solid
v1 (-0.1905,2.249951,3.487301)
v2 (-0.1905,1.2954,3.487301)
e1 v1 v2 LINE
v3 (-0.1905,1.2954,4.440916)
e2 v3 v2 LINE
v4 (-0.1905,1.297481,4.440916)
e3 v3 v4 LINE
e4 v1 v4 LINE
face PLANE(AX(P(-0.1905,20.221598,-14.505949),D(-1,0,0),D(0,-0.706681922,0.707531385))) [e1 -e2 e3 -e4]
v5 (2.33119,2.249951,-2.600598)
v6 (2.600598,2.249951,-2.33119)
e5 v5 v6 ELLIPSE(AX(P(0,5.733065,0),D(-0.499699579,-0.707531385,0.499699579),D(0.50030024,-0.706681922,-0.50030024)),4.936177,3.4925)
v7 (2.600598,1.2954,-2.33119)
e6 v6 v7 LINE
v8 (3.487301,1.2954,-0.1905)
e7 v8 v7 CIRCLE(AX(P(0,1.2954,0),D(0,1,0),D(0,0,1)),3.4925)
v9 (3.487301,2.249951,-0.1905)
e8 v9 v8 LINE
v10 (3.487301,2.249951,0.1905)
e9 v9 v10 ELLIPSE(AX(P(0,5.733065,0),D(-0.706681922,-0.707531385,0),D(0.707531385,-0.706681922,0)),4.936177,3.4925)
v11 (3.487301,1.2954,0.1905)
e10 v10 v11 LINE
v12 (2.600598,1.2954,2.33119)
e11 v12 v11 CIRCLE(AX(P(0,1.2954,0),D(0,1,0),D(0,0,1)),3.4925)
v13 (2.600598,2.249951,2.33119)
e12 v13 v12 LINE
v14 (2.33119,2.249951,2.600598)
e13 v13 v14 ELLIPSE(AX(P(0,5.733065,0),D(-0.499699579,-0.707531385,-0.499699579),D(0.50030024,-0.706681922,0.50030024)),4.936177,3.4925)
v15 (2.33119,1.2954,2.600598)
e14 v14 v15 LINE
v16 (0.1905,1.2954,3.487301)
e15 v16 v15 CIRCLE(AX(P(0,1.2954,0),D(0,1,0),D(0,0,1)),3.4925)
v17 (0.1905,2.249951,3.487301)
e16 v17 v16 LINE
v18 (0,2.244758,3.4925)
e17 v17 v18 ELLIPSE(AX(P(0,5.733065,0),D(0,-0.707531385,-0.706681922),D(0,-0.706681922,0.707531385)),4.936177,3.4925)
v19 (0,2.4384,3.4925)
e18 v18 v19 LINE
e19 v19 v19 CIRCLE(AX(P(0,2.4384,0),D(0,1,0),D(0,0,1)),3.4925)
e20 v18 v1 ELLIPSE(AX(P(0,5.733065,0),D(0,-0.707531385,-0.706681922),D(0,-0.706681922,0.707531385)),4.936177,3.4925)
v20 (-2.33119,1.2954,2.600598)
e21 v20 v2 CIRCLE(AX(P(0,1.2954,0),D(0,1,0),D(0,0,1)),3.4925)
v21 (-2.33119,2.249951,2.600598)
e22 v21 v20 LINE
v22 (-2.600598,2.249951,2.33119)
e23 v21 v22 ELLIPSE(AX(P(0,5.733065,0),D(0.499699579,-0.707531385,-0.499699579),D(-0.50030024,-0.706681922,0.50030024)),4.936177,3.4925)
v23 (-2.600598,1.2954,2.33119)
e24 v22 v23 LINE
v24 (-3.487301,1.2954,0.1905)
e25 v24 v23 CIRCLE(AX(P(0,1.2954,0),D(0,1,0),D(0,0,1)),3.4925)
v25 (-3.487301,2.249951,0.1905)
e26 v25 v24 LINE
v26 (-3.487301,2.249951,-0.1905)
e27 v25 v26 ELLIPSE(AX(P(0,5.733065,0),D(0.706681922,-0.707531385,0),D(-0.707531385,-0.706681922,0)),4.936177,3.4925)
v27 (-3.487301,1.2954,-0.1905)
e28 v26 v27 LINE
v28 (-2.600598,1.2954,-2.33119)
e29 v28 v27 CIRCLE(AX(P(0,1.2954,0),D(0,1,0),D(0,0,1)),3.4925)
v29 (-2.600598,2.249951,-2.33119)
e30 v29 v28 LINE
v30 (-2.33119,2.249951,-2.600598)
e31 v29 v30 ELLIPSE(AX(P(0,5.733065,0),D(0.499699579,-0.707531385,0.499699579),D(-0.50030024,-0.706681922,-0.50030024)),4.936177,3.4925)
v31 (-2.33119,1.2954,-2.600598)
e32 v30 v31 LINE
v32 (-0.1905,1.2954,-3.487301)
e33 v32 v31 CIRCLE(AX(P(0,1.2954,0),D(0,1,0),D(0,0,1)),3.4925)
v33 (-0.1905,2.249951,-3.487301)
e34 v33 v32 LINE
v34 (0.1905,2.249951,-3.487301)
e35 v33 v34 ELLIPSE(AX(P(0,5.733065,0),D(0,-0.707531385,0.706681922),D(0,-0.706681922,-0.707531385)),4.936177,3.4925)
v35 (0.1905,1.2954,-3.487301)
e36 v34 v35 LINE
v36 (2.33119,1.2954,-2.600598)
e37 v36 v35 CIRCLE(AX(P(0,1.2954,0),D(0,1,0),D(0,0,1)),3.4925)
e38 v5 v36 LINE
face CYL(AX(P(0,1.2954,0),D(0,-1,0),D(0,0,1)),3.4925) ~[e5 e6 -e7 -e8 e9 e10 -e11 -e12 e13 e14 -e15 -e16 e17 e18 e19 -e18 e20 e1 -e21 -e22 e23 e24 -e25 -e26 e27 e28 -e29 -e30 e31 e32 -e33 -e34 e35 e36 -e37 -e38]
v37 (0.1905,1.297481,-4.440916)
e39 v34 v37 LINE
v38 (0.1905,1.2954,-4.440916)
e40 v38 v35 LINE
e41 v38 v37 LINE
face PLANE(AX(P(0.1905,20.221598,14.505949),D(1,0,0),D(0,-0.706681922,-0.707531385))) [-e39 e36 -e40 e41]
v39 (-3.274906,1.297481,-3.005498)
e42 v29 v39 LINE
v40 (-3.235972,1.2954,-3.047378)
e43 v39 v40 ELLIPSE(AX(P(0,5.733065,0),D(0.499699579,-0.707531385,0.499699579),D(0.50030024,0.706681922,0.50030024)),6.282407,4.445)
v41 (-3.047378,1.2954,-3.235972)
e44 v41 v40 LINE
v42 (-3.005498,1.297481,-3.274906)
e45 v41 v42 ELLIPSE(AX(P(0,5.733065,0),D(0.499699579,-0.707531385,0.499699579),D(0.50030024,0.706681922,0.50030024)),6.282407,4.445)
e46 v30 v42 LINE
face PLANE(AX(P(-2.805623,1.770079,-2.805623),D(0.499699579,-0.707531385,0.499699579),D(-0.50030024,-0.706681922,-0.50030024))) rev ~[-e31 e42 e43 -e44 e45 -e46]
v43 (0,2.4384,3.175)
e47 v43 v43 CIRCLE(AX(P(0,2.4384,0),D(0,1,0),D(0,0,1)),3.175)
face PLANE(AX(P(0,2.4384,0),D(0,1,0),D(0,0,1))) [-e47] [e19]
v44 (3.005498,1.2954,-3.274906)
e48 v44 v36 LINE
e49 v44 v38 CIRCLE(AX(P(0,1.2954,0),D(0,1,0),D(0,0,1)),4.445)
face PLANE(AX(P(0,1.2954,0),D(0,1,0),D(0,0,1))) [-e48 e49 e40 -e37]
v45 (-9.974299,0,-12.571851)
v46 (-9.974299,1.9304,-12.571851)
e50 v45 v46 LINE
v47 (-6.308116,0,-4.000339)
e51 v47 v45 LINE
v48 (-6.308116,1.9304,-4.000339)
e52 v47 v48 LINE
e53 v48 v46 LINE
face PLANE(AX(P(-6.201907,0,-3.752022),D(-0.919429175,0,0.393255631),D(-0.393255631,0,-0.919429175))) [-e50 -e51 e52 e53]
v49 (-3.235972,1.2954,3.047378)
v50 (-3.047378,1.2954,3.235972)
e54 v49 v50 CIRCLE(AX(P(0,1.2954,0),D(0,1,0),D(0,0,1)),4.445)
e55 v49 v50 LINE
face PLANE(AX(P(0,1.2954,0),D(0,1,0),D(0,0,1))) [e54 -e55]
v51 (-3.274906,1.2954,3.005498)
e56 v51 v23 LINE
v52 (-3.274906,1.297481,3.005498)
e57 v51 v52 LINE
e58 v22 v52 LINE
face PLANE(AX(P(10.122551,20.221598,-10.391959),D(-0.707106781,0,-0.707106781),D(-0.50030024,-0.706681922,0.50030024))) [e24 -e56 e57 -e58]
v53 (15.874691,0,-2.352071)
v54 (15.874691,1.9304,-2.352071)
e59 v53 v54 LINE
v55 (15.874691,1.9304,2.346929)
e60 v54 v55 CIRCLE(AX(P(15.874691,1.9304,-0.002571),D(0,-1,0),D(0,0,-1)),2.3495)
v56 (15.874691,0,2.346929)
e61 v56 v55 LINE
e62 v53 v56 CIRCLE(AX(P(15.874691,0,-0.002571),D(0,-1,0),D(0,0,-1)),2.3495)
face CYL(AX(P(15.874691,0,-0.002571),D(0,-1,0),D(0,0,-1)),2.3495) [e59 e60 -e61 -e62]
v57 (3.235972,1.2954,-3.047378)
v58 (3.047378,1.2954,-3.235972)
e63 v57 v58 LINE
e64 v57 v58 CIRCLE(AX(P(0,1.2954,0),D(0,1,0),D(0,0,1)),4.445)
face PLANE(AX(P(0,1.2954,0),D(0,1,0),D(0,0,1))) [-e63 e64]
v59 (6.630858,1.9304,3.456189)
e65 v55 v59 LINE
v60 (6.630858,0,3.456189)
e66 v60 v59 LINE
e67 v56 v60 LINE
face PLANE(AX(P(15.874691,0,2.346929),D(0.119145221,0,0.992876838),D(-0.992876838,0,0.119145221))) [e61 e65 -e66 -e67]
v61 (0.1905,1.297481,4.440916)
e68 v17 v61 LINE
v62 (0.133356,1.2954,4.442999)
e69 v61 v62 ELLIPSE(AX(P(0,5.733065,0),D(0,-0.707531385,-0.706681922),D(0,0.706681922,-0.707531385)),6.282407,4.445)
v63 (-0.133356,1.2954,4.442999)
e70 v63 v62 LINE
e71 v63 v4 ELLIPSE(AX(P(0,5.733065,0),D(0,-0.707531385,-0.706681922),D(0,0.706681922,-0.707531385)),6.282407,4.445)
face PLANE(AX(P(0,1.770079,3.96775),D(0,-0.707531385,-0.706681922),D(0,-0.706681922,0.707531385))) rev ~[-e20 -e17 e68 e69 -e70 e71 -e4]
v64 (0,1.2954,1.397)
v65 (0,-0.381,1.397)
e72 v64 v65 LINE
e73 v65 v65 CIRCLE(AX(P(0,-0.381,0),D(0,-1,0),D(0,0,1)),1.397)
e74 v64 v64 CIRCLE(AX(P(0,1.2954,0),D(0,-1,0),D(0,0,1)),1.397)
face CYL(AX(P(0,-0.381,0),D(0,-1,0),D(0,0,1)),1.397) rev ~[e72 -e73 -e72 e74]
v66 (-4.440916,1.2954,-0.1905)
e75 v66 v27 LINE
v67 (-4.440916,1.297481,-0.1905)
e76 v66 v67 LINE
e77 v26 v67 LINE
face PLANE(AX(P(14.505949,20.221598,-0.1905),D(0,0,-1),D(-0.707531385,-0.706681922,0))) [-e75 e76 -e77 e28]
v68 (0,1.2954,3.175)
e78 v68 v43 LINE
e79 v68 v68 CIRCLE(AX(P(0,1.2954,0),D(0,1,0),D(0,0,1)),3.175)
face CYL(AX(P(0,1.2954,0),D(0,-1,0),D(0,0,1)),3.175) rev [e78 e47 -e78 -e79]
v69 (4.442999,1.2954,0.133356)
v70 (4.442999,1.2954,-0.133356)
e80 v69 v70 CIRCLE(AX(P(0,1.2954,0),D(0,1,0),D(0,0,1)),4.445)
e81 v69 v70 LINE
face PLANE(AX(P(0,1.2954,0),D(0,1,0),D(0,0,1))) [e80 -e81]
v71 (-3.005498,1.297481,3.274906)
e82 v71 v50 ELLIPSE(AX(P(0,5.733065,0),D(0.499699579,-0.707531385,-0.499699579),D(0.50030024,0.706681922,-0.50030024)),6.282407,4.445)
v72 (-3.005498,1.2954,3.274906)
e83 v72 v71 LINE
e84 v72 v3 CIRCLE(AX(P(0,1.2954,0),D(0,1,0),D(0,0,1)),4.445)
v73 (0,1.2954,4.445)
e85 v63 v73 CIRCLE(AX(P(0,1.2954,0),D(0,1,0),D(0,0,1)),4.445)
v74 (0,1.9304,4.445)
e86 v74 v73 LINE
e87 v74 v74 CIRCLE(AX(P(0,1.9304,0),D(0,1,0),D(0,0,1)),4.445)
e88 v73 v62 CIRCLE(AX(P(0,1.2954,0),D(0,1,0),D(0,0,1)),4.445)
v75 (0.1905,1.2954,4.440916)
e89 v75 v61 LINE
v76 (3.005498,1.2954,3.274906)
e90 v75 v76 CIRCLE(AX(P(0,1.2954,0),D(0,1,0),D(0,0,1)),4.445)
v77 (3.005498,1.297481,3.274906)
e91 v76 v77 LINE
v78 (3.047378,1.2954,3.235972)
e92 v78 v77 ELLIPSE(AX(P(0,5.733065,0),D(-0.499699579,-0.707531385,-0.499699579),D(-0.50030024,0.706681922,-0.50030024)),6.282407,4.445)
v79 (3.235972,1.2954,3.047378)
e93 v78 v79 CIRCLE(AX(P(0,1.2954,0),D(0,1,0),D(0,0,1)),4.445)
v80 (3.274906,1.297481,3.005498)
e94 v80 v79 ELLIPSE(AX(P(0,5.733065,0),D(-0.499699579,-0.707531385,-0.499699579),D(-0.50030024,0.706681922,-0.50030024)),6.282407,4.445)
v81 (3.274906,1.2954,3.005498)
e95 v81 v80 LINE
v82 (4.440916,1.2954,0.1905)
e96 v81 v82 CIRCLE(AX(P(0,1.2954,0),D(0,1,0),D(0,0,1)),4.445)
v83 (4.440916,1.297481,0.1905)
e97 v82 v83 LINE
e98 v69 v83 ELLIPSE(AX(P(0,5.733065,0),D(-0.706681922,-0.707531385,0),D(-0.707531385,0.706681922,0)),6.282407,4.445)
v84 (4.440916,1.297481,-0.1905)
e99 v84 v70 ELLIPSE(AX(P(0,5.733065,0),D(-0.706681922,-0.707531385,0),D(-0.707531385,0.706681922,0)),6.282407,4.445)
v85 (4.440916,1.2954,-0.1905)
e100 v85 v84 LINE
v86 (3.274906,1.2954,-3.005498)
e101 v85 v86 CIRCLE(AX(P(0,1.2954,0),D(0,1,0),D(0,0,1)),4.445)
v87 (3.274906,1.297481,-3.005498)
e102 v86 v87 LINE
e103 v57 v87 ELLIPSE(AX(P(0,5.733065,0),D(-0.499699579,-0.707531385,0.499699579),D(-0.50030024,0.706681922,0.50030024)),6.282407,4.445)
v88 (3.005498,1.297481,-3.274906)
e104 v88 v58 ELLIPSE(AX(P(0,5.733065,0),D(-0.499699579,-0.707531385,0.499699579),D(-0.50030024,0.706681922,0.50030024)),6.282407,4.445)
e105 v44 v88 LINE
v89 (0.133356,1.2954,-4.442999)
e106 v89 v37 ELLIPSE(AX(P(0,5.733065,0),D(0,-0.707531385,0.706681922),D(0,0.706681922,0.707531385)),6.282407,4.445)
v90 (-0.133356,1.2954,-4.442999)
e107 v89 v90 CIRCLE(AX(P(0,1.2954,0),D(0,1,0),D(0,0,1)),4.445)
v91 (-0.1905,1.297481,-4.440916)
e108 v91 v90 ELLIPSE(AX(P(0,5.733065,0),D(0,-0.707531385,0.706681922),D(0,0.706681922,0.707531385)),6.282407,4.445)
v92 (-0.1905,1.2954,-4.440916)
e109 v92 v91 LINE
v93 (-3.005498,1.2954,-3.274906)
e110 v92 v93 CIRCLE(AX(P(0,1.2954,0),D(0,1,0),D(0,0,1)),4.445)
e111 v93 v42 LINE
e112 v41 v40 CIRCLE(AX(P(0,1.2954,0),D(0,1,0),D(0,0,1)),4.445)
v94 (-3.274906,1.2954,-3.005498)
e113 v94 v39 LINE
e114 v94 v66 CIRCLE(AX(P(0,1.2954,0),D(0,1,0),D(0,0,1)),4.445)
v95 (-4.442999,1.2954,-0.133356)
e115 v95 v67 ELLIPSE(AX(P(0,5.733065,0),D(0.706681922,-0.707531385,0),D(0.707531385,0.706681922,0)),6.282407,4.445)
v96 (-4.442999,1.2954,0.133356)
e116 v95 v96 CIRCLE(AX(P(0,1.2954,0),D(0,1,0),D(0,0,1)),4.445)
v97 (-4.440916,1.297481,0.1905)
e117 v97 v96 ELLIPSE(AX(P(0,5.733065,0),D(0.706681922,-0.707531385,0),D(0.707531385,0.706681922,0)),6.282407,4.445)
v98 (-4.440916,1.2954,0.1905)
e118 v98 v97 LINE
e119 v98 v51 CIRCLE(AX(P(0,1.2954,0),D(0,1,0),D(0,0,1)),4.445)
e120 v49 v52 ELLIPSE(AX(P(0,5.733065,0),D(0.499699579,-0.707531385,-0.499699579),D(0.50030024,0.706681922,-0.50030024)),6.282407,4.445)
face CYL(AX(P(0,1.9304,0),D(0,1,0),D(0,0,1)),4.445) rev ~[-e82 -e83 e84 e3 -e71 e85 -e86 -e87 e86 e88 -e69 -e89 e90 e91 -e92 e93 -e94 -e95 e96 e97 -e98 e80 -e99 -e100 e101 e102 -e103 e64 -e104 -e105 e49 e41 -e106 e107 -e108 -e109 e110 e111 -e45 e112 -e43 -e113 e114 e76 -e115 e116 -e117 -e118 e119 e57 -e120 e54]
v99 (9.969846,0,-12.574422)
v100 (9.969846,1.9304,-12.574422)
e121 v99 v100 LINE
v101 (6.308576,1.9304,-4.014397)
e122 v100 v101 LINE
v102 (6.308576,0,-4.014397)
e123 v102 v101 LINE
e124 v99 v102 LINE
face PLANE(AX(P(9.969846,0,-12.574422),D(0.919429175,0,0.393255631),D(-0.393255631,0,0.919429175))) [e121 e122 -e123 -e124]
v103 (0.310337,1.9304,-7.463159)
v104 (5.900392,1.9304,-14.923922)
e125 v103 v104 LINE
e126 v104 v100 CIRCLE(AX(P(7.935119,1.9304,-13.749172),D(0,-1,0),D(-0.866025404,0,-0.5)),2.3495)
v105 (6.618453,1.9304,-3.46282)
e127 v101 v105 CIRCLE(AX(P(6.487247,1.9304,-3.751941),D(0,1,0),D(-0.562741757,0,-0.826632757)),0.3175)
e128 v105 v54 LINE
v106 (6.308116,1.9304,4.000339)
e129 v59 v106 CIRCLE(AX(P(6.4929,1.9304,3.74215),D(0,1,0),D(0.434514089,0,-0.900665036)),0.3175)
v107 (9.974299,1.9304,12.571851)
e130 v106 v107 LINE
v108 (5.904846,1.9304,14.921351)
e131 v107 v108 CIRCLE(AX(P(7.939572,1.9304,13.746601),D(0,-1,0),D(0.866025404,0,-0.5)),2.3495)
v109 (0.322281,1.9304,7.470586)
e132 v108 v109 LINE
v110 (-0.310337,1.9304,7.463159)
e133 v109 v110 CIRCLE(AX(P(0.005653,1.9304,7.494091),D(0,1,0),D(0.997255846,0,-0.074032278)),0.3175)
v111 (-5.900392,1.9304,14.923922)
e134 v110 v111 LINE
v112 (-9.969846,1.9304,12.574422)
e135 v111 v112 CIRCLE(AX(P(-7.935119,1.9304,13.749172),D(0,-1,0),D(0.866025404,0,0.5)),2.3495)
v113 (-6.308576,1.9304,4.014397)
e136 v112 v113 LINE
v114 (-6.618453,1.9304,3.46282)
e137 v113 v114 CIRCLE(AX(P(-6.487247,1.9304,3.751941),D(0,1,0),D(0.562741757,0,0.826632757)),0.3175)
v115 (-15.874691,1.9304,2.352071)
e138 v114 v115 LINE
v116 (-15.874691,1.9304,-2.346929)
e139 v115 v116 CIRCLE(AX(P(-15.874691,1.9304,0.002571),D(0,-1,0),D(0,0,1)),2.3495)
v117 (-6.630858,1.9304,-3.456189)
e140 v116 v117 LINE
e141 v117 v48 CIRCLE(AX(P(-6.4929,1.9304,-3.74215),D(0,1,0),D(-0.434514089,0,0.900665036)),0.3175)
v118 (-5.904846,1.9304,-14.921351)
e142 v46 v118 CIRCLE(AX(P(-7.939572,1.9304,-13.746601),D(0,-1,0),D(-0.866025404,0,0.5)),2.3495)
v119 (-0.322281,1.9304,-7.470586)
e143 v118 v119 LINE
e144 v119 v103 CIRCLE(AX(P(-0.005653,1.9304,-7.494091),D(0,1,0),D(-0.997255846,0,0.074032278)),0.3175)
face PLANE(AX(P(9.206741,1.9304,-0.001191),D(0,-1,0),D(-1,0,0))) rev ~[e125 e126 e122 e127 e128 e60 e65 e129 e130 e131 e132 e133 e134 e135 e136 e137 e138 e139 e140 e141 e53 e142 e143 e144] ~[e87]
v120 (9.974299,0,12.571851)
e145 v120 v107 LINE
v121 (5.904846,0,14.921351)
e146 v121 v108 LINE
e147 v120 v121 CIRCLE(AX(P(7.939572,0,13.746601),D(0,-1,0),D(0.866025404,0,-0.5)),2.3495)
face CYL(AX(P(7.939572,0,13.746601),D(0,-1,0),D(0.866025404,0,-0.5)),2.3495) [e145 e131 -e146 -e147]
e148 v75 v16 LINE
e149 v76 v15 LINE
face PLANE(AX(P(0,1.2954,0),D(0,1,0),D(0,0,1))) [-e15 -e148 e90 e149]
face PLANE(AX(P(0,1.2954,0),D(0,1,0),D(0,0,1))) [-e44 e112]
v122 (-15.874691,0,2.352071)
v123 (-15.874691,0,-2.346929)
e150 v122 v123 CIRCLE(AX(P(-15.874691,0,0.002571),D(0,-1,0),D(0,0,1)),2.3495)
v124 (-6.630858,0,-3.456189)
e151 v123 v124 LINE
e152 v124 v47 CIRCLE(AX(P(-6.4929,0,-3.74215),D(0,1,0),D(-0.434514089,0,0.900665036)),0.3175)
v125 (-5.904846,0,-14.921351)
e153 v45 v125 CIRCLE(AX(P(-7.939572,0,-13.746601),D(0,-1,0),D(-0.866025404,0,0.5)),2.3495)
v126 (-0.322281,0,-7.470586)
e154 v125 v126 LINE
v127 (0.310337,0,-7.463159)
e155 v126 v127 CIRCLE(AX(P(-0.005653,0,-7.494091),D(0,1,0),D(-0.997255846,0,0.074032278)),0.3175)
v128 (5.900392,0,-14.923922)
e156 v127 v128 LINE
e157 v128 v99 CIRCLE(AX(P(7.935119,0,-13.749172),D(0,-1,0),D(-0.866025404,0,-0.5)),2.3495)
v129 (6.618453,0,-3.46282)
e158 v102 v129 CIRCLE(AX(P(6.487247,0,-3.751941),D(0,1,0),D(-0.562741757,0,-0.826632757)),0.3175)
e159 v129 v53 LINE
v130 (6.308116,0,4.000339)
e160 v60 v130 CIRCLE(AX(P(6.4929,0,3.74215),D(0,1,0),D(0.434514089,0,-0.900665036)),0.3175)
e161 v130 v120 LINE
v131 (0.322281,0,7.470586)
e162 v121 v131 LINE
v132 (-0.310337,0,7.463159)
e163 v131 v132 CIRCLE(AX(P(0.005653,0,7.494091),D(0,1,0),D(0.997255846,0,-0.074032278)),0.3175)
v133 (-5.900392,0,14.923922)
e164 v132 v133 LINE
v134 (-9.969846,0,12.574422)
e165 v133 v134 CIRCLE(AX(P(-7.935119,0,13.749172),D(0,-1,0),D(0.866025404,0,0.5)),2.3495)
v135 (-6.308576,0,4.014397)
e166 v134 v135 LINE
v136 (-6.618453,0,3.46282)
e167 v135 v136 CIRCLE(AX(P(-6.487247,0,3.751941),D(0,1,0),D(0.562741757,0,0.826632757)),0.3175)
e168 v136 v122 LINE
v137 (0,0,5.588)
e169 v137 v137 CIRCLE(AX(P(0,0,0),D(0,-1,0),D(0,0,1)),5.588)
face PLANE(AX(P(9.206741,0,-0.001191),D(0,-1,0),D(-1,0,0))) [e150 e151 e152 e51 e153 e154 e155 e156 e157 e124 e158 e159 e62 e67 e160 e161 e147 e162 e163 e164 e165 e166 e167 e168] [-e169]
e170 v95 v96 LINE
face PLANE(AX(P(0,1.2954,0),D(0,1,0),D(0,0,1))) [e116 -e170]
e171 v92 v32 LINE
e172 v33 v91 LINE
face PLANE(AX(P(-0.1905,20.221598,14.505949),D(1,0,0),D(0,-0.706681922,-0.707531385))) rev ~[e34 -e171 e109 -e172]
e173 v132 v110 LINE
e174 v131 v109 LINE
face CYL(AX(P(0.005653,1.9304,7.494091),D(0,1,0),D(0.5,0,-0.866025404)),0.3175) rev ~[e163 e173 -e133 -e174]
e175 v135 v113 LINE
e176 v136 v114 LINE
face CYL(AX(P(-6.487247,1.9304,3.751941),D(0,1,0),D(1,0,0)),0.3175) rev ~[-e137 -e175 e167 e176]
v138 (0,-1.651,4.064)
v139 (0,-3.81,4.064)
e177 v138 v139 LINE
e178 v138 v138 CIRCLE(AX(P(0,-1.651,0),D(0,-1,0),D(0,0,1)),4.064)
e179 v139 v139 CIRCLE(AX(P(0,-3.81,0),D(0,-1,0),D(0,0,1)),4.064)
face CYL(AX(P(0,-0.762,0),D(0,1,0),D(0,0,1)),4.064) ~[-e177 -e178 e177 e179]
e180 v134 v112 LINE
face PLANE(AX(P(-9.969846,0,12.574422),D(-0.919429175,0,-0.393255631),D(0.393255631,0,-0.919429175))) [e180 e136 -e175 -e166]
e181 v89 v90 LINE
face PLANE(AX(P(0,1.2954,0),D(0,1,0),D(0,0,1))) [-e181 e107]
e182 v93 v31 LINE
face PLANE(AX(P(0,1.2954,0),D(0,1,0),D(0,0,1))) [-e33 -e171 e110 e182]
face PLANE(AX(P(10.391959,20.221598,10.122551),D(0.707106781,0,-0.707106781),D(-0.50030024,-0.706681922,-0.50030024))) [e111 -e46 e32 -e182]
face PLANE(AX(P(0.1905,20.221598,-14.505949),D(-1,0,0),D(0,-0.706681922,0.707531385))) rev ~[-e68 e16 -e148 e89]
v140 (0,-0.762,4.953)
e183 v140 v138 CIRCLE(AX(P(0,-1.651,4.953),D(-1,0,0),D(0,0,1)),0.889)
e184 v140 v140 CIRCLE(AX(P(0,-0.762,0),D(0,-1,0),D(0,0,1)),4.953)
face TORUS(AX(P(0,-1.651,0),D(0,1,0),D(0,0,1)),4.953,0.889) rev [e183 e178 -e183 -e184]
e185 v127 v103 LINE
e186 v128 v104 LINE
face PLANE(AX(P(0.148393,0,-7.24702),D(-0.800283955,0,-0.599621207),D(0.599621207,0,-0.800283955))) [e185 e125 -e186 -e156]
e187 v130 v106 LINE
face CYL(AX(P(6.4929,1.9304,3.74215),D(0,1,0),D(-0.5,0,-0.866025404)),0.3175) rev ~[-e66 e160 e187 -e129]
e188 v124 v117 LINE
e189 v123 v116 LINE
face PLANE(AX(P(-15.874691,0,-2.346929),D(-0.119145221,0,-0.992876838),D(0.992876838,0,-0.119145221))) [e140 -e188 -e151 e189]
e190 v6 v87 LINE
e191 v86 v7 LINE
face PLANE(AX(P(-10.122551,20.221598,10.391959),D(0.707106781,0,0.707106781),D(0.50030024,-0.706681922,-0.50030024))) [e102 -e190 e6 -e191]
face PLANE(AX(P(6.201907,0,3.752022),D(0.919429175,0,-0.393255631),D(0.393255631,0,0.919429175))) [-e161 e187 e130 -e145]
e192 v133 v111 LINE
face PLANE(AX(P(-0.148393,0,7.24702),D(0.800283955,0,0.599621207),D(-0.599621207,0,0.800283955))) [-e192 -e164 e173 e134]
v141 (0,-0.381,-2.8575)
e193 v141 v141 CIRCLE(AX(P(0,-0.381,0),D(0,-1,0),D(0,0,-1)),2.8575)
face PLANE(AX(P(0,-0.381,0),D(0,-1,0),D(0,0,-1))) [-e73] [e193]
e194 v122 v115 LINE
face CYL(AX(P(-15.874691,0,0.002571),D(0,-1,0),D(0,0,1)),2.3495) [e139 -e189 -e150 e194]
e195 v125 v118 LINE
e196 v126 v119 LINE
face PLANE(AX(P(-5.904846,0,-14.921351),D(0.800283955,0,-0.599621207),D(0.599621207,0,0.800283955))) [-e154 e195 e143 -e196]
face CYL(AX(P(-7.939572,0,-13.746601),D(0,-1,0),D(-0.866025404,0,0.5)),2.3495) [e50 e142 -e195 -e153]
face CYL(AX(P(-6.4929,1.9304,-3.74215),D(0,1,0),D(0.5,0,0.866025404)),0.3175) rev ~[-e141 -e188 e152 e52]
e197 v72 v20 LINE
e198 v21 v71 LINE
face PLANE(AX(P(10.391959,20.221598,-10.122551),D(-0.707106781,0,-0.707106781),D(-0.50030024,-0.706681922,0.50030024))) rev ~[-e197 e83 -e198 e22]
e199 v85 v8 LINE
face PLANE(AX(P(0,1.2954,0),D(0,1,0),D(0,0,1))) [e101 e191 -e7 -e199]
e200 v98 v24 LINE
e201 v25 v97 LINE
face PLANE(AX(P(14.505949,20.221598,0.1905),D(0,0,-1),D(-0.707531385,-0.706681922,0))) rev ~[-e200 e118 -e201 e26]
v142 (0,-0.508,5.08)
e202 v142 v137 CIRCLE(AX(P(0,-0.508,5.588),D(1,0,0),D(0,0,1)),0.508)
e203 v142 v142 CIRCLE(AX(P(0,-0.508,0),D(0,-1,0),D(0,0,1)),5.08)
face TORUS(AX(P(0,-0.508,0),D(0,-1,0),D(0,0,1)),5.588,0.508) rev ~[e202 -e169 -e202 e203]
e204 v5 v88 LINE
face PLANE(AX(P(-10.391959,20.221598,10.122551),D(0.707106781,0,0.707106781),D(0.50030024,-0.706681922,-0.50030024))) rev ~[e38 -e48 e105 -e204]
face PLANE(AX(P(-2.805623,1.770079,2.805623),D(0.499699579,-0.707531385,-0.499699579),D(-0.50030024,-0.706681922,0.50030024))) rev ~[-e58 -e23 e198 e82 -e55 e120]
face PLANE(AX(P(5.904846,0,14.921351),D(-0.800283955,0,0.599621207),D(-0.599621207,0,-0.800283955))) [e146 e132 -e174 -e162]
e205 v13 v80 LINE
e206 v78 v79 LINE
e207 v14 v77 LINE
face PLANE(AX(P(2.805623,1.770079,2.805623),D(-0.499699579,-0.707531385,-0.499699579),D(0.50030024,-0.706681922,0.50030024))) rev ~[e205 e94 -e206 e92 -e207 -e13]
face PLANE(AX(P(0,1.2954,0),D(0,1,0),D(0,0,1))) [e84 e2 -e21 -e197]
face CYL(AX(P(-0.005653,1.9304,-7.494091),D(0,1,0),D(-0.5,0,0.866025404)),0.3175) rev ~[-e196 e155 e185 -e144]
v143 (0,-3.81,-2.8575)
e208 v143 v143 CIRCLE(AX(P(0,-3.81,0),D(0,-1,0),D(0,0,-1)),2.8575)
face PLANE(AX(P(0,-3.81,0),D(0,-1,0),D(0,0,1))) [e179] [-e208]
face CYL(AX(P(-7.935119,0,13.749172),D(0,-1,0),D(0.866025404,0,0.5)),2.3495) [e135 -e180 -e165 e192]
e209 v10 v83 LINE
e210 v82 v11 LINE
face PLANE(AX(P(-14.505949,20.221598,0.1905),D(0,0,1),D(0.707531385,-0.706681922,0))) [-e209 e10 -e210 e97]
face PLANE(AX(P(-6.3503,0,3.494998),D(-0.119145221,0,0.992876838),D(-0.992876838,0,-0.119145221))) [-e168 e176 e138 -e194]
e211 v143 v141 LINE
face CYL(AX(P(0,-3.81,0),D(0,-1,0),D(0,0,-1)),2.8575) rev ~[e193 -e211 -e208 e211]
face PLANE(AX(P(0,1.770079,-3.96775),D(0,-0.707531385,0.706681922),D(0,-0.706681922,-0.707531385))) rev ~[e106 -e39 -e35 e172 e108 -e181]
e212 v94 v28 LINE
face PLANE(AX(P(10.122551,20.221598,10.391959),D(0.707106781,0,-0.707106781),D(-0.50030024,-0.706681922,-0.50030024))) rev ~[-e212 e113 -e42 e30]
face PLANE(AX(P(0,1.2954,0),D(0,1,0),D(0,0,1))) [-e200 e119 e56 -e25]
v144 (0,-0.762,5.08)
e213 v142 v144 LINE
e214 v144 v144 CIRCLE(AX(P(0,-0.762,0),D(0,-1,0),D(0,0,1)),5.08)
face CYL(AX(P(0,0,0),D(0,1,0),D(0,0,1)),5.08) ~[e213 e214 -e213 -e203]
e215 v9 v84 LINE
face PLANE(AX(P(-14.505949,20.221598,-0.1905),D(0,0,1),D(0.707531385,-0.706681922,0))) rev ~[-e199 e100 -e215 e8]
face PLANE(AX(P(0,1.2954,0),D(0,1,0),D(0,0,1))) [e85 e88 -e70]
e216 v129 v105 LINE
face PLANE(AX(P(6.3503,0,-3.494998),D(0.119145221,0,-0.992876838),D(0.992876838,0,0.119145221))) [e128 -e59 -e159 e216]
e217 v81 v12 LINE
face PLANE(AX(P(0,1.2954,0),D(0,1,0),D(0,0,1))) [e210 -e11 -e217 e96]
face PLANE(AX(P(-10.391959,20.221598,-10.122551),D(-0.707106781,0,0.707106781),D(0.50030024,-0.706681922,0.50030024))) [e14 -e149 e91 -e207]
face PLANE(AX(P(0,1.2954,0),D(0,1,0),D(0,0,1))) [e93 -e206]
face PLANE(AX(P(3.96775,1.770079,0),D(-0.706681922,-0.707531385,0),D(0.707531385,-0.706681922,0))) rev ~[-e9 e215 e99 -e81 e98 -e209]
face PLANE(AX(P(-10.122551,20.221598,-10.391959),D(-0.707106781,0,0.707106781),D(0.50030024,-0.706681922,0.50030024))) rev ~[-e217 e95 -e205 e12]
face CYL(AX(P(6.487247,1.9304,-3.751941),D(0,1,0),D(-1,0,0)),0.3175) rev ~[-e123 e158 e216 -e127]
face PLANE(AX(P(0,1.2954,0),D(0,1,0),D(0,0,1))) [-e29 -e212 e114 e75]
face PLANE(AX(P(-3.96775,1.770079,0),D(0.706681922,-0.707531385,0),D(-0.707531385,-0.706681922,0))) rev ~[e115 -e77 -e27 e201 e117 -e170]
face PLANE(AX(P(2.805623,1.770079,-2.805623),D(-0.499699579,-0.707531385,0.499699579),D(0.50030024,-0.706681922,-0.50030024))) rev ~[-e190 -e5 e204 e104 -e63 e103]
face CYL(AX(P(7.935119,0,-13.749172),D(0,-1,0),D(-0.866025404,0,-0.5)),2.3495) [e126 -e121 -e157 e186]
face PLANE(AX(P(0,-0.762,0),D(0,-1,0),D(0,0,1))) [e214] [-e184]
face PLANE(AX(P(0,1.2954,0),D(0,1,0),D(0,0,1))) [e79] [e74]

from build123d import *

# Parameters (mm, degrees)
EXTRUDE4_DEPTH          = 1.9304
SKETCH2_R               = 0.6604
CUT_EXTRUDE1_DEPTH      = 19.722050478
CIRPATTERN4_COUNT       = 6
CUT_EXTRUDE2_DEPTH      = 12.7
CUT_EXTRUDE2_DEPTH_BACK = 12.7
SKETCH3_R               = 1.397
SKETCH4_R               = 4.445
CUT_EXTRUDE3_DEPTH      = 0.635
SKETCH5_R               = 3.4925
SKETCH5_R_2             = 3.175
EXTRUDE5_DEPTH          = 1.143
RIB10_REACH             = 26.438
SKETCH8_WALL_W          = 52.220152264
SKETCH8_WALL_H          = 0.381
CIRPATTERN5_COUNT       = 8
SKETCH10_R              = 5.08
EXTRUDE6_DEPTH          = 0.762
FILLET2_R               = 0.508
SKETCH11_R              = 4.064
EXTRUDE7_DEPTH          = 3.048
FILLET3_R               = 0.889
SKETCH12_R              = 2.8575
CUT_EXTRUDE5_DEPTH      = 3.429
SKETCH14_R              = 1.397
CUT_EXTRUDE6_DEPTH      = 25.557003564
SKETCH15_R              = 0.3175
CUT_EXTRUDE7_DEPTH      = 25.984806887
CIRPATTERN7_COUNT       = 6


with BuildPart() as part:
    # Sketch1 → Extrude4 (new body)
    with BuildSketch(Plane(origin=(0, 0, 0), x_dir=(1, 0, 0), z_dir=(0, 1, 0))):
        with BuildLine():
            Line((5.775220615, -3.829827046), (0, 0))
            Line((0, 0), (5.775220615, 3.829827046))
            Line((5.775220615, 3.829827046), (6.35029977, 3.829827046))
            Line((6.35029977, 3.829827046), (6.35029977, 3.494998084))
            Line((6.35029977, 3.494998084), (15.87469147, 2.35207108))
            ThreePointArc((15.87469147, 2.35207108), (18.22419147, 0.00257108), (15.87469147, -2.34692892))
            Line((15.87469147, -2.34692892), (6.34969147, -3.48992892))
            Line((6.34969147, -3.48992892), (6.34969147, -3.829827046))
            Line((6.34969147, -3.829827046), (5.775220615, -3.829827046))
        make_face()
    extrude4 = extrude(amount=EXTRUDE4_DEPTH)

    # Sketch2 → Cut-Extrude1 (cut, through all)
    with BuildSketch(Plane(origin=(0, 1.9304, 0), x_dir=(-1, 0, 0), z_dir=(0, 1, 0))):
        with Locations((-6.342552501, -4.149920748)):
            Circle(SKETCH2_R)
        with Locations((-6.342552501, 4.149920748)):
            Circle(SKETCH2_R)
    extrude(amount=-CUT_EXTRUDE1_DEPTH, mode=Mode.SUBTRACT)

    # CirPattern4: Extrude4 ×6 about axis
    cirpattern4_axis = Axis((0, 0, 0), (0, 1, 0))
    for i in range(1, CIRPATTERN4_COUNT):
        add(extrude4.rotate(cirpattern4_axis, i * 360 / CIRPATTERN4_COUNT))

    # Sketch3 → Cut-Extrude2 (cut, two sides: drawn at the far end of the back side and taken through both)
    with BuildSketch(Plane(origin=(0, 1.9304, 0), x_dir=(-1, 0, 0), z_dir=(0, 1, 0)).offset(-CUT_EXTRUDE2_DEPTH_BACK)):
        Circle(SKETCH3_R)
    extrude(amount=CUT_EXTRUDE2_DEPTH + CUT_EXTRUDE2_DEPTH_BACK, mode=Mode.SUBTRACT)

    # Sketch4 → Cut-Extrude3 (cut)
    with BuildSketch(Plane(origin=(0, 1.9304, 0), x_dir=(-1, 0, 0), z_dir=(0, 1, 0))):
        Circle(SKETCH4_R)
    extrude(amount=-CUT_EXTRUDE3_DEPTH, mode=Mode.SUBTRACT)

    # Sketch5 → Extrude5 (add)
    with BuildSketch(Plane(origin=(0, 1.2954, 0), x_dir=(-1, 0, 0), z_dir=(0, 1, 0))):
        Circle(SKETCH5_R)
        Circle(SKETCH5_R_2, mode=Mode.SUBTRACT)
    extrude(amount=EXTRUDE5_DEPTH)

    # Sketch8 wall → Rib10 (add, up to next)
    with BuildSketch(Plane(origin=(-3.967749561, 1.770078976, 0), x_dir=(-0.70753138537, -0.706681921883, 0), z_dir=(0.706681921883, -0.70753138537, 0)), mode=Mode.PRIVATE) as rib10_sk1:
        Rectangle(SKETCH8_WALL_W, SKETCH8_WALL_H)
    rib10_tool1 = extrude(rib10_sk1.sketch, amount=RIB10_REACH, mode=Mode.PRIVATE) - part.part
    rib10 = rib10_tool1.solids().sort_by_distance((-3.967749561, 1.770078976, 0))[0]
    add(rib10)

    # CirPattern5: Rib10 ×8 about axis
    cirpattern5_axis = Axis((0, 0, 0), (0, 1, 0))
    for i in range(1, CIRPATTERN5_COUNT):
        add(rib10.rotate(cirpattern5_axis, i * 360 / CIRPATTERN5_COUNT))

    # Sketch10 → Extrude6 (add)
    with BuildSketch(Plane.XZ):
        Circle(SKETCH10_R)
    extrude(amount=EXTRUDE6_DEPTH)

    # Fillet2
    fillet2_edges = [part.edges().sort_by_distance(p)[0] for p in [
        (-5.08, 0, 0),
    ]]
    fillet(fillet2_edges, radius=FILLET2_R)

    # Sketch11 → Extrude7 (add)
    with BuildSketch(Plane.XZ.offset(0.762)):
        Circle(SKETCH11_R)
    extrude(amount=EXTRUDE7_DEPTH)

    # Fillet3
    fillet3_edges = [part.edges().sort_by_distance(p)[0] for p in [
        (-4.064, -0.762, 0),
    ]]
    fillet(fillet3_edges, radius=FILLET3_R)

    # Sketch12 → Cut-Extrude5 (cut)
    with BuildSketch(Plane.XZ.offset(3.81)):
        Circle(SKETCH12_R)
    extrude(amount=-CUT_EXTRUDE5_DEPTH, mode=Mode.SUBTRACT)

    # Sketch14 → Cut-Extrude6 (cut, through all)
    with BuildSketch(Plane.XZ.offset(0.381)):
        Circle(SKETCH14_R)
    extrude(amount=-CUT_EXTRUDE6_DEPTH, mode=Mode.SUBTRACT)

    # Sketch15 → Cut-Extrude7 (cut, symmetric)
    with BuildSketch(Plane(origin=(0, 1.9304, 0), x_dir=(-1, 0, 0), z_dir=(0, 1, 0))):
        with Locations((-6.48724684, -3.751940905)):
            Circle(SKETCH15_R)
    cut_extrude7 = extrude(amount=CUT_EXTRUDE7_DEPTH, both=True, mode=Mode.SUBTRACT)

    # CirPattern7: Cut-Extrude7 ×6 about axis
    cirpattern7_axis = Axis((0, 0, 0), (0, 1, 0))
    for i in range(1, CIRPATTERN7_COUNT):
        add(cut_extrude7.rotate(cirpattern7_axis, i * 360 / CIRPATTERN7_COUNT), mode=Mode.SUBTRACT)


solid = part.part
